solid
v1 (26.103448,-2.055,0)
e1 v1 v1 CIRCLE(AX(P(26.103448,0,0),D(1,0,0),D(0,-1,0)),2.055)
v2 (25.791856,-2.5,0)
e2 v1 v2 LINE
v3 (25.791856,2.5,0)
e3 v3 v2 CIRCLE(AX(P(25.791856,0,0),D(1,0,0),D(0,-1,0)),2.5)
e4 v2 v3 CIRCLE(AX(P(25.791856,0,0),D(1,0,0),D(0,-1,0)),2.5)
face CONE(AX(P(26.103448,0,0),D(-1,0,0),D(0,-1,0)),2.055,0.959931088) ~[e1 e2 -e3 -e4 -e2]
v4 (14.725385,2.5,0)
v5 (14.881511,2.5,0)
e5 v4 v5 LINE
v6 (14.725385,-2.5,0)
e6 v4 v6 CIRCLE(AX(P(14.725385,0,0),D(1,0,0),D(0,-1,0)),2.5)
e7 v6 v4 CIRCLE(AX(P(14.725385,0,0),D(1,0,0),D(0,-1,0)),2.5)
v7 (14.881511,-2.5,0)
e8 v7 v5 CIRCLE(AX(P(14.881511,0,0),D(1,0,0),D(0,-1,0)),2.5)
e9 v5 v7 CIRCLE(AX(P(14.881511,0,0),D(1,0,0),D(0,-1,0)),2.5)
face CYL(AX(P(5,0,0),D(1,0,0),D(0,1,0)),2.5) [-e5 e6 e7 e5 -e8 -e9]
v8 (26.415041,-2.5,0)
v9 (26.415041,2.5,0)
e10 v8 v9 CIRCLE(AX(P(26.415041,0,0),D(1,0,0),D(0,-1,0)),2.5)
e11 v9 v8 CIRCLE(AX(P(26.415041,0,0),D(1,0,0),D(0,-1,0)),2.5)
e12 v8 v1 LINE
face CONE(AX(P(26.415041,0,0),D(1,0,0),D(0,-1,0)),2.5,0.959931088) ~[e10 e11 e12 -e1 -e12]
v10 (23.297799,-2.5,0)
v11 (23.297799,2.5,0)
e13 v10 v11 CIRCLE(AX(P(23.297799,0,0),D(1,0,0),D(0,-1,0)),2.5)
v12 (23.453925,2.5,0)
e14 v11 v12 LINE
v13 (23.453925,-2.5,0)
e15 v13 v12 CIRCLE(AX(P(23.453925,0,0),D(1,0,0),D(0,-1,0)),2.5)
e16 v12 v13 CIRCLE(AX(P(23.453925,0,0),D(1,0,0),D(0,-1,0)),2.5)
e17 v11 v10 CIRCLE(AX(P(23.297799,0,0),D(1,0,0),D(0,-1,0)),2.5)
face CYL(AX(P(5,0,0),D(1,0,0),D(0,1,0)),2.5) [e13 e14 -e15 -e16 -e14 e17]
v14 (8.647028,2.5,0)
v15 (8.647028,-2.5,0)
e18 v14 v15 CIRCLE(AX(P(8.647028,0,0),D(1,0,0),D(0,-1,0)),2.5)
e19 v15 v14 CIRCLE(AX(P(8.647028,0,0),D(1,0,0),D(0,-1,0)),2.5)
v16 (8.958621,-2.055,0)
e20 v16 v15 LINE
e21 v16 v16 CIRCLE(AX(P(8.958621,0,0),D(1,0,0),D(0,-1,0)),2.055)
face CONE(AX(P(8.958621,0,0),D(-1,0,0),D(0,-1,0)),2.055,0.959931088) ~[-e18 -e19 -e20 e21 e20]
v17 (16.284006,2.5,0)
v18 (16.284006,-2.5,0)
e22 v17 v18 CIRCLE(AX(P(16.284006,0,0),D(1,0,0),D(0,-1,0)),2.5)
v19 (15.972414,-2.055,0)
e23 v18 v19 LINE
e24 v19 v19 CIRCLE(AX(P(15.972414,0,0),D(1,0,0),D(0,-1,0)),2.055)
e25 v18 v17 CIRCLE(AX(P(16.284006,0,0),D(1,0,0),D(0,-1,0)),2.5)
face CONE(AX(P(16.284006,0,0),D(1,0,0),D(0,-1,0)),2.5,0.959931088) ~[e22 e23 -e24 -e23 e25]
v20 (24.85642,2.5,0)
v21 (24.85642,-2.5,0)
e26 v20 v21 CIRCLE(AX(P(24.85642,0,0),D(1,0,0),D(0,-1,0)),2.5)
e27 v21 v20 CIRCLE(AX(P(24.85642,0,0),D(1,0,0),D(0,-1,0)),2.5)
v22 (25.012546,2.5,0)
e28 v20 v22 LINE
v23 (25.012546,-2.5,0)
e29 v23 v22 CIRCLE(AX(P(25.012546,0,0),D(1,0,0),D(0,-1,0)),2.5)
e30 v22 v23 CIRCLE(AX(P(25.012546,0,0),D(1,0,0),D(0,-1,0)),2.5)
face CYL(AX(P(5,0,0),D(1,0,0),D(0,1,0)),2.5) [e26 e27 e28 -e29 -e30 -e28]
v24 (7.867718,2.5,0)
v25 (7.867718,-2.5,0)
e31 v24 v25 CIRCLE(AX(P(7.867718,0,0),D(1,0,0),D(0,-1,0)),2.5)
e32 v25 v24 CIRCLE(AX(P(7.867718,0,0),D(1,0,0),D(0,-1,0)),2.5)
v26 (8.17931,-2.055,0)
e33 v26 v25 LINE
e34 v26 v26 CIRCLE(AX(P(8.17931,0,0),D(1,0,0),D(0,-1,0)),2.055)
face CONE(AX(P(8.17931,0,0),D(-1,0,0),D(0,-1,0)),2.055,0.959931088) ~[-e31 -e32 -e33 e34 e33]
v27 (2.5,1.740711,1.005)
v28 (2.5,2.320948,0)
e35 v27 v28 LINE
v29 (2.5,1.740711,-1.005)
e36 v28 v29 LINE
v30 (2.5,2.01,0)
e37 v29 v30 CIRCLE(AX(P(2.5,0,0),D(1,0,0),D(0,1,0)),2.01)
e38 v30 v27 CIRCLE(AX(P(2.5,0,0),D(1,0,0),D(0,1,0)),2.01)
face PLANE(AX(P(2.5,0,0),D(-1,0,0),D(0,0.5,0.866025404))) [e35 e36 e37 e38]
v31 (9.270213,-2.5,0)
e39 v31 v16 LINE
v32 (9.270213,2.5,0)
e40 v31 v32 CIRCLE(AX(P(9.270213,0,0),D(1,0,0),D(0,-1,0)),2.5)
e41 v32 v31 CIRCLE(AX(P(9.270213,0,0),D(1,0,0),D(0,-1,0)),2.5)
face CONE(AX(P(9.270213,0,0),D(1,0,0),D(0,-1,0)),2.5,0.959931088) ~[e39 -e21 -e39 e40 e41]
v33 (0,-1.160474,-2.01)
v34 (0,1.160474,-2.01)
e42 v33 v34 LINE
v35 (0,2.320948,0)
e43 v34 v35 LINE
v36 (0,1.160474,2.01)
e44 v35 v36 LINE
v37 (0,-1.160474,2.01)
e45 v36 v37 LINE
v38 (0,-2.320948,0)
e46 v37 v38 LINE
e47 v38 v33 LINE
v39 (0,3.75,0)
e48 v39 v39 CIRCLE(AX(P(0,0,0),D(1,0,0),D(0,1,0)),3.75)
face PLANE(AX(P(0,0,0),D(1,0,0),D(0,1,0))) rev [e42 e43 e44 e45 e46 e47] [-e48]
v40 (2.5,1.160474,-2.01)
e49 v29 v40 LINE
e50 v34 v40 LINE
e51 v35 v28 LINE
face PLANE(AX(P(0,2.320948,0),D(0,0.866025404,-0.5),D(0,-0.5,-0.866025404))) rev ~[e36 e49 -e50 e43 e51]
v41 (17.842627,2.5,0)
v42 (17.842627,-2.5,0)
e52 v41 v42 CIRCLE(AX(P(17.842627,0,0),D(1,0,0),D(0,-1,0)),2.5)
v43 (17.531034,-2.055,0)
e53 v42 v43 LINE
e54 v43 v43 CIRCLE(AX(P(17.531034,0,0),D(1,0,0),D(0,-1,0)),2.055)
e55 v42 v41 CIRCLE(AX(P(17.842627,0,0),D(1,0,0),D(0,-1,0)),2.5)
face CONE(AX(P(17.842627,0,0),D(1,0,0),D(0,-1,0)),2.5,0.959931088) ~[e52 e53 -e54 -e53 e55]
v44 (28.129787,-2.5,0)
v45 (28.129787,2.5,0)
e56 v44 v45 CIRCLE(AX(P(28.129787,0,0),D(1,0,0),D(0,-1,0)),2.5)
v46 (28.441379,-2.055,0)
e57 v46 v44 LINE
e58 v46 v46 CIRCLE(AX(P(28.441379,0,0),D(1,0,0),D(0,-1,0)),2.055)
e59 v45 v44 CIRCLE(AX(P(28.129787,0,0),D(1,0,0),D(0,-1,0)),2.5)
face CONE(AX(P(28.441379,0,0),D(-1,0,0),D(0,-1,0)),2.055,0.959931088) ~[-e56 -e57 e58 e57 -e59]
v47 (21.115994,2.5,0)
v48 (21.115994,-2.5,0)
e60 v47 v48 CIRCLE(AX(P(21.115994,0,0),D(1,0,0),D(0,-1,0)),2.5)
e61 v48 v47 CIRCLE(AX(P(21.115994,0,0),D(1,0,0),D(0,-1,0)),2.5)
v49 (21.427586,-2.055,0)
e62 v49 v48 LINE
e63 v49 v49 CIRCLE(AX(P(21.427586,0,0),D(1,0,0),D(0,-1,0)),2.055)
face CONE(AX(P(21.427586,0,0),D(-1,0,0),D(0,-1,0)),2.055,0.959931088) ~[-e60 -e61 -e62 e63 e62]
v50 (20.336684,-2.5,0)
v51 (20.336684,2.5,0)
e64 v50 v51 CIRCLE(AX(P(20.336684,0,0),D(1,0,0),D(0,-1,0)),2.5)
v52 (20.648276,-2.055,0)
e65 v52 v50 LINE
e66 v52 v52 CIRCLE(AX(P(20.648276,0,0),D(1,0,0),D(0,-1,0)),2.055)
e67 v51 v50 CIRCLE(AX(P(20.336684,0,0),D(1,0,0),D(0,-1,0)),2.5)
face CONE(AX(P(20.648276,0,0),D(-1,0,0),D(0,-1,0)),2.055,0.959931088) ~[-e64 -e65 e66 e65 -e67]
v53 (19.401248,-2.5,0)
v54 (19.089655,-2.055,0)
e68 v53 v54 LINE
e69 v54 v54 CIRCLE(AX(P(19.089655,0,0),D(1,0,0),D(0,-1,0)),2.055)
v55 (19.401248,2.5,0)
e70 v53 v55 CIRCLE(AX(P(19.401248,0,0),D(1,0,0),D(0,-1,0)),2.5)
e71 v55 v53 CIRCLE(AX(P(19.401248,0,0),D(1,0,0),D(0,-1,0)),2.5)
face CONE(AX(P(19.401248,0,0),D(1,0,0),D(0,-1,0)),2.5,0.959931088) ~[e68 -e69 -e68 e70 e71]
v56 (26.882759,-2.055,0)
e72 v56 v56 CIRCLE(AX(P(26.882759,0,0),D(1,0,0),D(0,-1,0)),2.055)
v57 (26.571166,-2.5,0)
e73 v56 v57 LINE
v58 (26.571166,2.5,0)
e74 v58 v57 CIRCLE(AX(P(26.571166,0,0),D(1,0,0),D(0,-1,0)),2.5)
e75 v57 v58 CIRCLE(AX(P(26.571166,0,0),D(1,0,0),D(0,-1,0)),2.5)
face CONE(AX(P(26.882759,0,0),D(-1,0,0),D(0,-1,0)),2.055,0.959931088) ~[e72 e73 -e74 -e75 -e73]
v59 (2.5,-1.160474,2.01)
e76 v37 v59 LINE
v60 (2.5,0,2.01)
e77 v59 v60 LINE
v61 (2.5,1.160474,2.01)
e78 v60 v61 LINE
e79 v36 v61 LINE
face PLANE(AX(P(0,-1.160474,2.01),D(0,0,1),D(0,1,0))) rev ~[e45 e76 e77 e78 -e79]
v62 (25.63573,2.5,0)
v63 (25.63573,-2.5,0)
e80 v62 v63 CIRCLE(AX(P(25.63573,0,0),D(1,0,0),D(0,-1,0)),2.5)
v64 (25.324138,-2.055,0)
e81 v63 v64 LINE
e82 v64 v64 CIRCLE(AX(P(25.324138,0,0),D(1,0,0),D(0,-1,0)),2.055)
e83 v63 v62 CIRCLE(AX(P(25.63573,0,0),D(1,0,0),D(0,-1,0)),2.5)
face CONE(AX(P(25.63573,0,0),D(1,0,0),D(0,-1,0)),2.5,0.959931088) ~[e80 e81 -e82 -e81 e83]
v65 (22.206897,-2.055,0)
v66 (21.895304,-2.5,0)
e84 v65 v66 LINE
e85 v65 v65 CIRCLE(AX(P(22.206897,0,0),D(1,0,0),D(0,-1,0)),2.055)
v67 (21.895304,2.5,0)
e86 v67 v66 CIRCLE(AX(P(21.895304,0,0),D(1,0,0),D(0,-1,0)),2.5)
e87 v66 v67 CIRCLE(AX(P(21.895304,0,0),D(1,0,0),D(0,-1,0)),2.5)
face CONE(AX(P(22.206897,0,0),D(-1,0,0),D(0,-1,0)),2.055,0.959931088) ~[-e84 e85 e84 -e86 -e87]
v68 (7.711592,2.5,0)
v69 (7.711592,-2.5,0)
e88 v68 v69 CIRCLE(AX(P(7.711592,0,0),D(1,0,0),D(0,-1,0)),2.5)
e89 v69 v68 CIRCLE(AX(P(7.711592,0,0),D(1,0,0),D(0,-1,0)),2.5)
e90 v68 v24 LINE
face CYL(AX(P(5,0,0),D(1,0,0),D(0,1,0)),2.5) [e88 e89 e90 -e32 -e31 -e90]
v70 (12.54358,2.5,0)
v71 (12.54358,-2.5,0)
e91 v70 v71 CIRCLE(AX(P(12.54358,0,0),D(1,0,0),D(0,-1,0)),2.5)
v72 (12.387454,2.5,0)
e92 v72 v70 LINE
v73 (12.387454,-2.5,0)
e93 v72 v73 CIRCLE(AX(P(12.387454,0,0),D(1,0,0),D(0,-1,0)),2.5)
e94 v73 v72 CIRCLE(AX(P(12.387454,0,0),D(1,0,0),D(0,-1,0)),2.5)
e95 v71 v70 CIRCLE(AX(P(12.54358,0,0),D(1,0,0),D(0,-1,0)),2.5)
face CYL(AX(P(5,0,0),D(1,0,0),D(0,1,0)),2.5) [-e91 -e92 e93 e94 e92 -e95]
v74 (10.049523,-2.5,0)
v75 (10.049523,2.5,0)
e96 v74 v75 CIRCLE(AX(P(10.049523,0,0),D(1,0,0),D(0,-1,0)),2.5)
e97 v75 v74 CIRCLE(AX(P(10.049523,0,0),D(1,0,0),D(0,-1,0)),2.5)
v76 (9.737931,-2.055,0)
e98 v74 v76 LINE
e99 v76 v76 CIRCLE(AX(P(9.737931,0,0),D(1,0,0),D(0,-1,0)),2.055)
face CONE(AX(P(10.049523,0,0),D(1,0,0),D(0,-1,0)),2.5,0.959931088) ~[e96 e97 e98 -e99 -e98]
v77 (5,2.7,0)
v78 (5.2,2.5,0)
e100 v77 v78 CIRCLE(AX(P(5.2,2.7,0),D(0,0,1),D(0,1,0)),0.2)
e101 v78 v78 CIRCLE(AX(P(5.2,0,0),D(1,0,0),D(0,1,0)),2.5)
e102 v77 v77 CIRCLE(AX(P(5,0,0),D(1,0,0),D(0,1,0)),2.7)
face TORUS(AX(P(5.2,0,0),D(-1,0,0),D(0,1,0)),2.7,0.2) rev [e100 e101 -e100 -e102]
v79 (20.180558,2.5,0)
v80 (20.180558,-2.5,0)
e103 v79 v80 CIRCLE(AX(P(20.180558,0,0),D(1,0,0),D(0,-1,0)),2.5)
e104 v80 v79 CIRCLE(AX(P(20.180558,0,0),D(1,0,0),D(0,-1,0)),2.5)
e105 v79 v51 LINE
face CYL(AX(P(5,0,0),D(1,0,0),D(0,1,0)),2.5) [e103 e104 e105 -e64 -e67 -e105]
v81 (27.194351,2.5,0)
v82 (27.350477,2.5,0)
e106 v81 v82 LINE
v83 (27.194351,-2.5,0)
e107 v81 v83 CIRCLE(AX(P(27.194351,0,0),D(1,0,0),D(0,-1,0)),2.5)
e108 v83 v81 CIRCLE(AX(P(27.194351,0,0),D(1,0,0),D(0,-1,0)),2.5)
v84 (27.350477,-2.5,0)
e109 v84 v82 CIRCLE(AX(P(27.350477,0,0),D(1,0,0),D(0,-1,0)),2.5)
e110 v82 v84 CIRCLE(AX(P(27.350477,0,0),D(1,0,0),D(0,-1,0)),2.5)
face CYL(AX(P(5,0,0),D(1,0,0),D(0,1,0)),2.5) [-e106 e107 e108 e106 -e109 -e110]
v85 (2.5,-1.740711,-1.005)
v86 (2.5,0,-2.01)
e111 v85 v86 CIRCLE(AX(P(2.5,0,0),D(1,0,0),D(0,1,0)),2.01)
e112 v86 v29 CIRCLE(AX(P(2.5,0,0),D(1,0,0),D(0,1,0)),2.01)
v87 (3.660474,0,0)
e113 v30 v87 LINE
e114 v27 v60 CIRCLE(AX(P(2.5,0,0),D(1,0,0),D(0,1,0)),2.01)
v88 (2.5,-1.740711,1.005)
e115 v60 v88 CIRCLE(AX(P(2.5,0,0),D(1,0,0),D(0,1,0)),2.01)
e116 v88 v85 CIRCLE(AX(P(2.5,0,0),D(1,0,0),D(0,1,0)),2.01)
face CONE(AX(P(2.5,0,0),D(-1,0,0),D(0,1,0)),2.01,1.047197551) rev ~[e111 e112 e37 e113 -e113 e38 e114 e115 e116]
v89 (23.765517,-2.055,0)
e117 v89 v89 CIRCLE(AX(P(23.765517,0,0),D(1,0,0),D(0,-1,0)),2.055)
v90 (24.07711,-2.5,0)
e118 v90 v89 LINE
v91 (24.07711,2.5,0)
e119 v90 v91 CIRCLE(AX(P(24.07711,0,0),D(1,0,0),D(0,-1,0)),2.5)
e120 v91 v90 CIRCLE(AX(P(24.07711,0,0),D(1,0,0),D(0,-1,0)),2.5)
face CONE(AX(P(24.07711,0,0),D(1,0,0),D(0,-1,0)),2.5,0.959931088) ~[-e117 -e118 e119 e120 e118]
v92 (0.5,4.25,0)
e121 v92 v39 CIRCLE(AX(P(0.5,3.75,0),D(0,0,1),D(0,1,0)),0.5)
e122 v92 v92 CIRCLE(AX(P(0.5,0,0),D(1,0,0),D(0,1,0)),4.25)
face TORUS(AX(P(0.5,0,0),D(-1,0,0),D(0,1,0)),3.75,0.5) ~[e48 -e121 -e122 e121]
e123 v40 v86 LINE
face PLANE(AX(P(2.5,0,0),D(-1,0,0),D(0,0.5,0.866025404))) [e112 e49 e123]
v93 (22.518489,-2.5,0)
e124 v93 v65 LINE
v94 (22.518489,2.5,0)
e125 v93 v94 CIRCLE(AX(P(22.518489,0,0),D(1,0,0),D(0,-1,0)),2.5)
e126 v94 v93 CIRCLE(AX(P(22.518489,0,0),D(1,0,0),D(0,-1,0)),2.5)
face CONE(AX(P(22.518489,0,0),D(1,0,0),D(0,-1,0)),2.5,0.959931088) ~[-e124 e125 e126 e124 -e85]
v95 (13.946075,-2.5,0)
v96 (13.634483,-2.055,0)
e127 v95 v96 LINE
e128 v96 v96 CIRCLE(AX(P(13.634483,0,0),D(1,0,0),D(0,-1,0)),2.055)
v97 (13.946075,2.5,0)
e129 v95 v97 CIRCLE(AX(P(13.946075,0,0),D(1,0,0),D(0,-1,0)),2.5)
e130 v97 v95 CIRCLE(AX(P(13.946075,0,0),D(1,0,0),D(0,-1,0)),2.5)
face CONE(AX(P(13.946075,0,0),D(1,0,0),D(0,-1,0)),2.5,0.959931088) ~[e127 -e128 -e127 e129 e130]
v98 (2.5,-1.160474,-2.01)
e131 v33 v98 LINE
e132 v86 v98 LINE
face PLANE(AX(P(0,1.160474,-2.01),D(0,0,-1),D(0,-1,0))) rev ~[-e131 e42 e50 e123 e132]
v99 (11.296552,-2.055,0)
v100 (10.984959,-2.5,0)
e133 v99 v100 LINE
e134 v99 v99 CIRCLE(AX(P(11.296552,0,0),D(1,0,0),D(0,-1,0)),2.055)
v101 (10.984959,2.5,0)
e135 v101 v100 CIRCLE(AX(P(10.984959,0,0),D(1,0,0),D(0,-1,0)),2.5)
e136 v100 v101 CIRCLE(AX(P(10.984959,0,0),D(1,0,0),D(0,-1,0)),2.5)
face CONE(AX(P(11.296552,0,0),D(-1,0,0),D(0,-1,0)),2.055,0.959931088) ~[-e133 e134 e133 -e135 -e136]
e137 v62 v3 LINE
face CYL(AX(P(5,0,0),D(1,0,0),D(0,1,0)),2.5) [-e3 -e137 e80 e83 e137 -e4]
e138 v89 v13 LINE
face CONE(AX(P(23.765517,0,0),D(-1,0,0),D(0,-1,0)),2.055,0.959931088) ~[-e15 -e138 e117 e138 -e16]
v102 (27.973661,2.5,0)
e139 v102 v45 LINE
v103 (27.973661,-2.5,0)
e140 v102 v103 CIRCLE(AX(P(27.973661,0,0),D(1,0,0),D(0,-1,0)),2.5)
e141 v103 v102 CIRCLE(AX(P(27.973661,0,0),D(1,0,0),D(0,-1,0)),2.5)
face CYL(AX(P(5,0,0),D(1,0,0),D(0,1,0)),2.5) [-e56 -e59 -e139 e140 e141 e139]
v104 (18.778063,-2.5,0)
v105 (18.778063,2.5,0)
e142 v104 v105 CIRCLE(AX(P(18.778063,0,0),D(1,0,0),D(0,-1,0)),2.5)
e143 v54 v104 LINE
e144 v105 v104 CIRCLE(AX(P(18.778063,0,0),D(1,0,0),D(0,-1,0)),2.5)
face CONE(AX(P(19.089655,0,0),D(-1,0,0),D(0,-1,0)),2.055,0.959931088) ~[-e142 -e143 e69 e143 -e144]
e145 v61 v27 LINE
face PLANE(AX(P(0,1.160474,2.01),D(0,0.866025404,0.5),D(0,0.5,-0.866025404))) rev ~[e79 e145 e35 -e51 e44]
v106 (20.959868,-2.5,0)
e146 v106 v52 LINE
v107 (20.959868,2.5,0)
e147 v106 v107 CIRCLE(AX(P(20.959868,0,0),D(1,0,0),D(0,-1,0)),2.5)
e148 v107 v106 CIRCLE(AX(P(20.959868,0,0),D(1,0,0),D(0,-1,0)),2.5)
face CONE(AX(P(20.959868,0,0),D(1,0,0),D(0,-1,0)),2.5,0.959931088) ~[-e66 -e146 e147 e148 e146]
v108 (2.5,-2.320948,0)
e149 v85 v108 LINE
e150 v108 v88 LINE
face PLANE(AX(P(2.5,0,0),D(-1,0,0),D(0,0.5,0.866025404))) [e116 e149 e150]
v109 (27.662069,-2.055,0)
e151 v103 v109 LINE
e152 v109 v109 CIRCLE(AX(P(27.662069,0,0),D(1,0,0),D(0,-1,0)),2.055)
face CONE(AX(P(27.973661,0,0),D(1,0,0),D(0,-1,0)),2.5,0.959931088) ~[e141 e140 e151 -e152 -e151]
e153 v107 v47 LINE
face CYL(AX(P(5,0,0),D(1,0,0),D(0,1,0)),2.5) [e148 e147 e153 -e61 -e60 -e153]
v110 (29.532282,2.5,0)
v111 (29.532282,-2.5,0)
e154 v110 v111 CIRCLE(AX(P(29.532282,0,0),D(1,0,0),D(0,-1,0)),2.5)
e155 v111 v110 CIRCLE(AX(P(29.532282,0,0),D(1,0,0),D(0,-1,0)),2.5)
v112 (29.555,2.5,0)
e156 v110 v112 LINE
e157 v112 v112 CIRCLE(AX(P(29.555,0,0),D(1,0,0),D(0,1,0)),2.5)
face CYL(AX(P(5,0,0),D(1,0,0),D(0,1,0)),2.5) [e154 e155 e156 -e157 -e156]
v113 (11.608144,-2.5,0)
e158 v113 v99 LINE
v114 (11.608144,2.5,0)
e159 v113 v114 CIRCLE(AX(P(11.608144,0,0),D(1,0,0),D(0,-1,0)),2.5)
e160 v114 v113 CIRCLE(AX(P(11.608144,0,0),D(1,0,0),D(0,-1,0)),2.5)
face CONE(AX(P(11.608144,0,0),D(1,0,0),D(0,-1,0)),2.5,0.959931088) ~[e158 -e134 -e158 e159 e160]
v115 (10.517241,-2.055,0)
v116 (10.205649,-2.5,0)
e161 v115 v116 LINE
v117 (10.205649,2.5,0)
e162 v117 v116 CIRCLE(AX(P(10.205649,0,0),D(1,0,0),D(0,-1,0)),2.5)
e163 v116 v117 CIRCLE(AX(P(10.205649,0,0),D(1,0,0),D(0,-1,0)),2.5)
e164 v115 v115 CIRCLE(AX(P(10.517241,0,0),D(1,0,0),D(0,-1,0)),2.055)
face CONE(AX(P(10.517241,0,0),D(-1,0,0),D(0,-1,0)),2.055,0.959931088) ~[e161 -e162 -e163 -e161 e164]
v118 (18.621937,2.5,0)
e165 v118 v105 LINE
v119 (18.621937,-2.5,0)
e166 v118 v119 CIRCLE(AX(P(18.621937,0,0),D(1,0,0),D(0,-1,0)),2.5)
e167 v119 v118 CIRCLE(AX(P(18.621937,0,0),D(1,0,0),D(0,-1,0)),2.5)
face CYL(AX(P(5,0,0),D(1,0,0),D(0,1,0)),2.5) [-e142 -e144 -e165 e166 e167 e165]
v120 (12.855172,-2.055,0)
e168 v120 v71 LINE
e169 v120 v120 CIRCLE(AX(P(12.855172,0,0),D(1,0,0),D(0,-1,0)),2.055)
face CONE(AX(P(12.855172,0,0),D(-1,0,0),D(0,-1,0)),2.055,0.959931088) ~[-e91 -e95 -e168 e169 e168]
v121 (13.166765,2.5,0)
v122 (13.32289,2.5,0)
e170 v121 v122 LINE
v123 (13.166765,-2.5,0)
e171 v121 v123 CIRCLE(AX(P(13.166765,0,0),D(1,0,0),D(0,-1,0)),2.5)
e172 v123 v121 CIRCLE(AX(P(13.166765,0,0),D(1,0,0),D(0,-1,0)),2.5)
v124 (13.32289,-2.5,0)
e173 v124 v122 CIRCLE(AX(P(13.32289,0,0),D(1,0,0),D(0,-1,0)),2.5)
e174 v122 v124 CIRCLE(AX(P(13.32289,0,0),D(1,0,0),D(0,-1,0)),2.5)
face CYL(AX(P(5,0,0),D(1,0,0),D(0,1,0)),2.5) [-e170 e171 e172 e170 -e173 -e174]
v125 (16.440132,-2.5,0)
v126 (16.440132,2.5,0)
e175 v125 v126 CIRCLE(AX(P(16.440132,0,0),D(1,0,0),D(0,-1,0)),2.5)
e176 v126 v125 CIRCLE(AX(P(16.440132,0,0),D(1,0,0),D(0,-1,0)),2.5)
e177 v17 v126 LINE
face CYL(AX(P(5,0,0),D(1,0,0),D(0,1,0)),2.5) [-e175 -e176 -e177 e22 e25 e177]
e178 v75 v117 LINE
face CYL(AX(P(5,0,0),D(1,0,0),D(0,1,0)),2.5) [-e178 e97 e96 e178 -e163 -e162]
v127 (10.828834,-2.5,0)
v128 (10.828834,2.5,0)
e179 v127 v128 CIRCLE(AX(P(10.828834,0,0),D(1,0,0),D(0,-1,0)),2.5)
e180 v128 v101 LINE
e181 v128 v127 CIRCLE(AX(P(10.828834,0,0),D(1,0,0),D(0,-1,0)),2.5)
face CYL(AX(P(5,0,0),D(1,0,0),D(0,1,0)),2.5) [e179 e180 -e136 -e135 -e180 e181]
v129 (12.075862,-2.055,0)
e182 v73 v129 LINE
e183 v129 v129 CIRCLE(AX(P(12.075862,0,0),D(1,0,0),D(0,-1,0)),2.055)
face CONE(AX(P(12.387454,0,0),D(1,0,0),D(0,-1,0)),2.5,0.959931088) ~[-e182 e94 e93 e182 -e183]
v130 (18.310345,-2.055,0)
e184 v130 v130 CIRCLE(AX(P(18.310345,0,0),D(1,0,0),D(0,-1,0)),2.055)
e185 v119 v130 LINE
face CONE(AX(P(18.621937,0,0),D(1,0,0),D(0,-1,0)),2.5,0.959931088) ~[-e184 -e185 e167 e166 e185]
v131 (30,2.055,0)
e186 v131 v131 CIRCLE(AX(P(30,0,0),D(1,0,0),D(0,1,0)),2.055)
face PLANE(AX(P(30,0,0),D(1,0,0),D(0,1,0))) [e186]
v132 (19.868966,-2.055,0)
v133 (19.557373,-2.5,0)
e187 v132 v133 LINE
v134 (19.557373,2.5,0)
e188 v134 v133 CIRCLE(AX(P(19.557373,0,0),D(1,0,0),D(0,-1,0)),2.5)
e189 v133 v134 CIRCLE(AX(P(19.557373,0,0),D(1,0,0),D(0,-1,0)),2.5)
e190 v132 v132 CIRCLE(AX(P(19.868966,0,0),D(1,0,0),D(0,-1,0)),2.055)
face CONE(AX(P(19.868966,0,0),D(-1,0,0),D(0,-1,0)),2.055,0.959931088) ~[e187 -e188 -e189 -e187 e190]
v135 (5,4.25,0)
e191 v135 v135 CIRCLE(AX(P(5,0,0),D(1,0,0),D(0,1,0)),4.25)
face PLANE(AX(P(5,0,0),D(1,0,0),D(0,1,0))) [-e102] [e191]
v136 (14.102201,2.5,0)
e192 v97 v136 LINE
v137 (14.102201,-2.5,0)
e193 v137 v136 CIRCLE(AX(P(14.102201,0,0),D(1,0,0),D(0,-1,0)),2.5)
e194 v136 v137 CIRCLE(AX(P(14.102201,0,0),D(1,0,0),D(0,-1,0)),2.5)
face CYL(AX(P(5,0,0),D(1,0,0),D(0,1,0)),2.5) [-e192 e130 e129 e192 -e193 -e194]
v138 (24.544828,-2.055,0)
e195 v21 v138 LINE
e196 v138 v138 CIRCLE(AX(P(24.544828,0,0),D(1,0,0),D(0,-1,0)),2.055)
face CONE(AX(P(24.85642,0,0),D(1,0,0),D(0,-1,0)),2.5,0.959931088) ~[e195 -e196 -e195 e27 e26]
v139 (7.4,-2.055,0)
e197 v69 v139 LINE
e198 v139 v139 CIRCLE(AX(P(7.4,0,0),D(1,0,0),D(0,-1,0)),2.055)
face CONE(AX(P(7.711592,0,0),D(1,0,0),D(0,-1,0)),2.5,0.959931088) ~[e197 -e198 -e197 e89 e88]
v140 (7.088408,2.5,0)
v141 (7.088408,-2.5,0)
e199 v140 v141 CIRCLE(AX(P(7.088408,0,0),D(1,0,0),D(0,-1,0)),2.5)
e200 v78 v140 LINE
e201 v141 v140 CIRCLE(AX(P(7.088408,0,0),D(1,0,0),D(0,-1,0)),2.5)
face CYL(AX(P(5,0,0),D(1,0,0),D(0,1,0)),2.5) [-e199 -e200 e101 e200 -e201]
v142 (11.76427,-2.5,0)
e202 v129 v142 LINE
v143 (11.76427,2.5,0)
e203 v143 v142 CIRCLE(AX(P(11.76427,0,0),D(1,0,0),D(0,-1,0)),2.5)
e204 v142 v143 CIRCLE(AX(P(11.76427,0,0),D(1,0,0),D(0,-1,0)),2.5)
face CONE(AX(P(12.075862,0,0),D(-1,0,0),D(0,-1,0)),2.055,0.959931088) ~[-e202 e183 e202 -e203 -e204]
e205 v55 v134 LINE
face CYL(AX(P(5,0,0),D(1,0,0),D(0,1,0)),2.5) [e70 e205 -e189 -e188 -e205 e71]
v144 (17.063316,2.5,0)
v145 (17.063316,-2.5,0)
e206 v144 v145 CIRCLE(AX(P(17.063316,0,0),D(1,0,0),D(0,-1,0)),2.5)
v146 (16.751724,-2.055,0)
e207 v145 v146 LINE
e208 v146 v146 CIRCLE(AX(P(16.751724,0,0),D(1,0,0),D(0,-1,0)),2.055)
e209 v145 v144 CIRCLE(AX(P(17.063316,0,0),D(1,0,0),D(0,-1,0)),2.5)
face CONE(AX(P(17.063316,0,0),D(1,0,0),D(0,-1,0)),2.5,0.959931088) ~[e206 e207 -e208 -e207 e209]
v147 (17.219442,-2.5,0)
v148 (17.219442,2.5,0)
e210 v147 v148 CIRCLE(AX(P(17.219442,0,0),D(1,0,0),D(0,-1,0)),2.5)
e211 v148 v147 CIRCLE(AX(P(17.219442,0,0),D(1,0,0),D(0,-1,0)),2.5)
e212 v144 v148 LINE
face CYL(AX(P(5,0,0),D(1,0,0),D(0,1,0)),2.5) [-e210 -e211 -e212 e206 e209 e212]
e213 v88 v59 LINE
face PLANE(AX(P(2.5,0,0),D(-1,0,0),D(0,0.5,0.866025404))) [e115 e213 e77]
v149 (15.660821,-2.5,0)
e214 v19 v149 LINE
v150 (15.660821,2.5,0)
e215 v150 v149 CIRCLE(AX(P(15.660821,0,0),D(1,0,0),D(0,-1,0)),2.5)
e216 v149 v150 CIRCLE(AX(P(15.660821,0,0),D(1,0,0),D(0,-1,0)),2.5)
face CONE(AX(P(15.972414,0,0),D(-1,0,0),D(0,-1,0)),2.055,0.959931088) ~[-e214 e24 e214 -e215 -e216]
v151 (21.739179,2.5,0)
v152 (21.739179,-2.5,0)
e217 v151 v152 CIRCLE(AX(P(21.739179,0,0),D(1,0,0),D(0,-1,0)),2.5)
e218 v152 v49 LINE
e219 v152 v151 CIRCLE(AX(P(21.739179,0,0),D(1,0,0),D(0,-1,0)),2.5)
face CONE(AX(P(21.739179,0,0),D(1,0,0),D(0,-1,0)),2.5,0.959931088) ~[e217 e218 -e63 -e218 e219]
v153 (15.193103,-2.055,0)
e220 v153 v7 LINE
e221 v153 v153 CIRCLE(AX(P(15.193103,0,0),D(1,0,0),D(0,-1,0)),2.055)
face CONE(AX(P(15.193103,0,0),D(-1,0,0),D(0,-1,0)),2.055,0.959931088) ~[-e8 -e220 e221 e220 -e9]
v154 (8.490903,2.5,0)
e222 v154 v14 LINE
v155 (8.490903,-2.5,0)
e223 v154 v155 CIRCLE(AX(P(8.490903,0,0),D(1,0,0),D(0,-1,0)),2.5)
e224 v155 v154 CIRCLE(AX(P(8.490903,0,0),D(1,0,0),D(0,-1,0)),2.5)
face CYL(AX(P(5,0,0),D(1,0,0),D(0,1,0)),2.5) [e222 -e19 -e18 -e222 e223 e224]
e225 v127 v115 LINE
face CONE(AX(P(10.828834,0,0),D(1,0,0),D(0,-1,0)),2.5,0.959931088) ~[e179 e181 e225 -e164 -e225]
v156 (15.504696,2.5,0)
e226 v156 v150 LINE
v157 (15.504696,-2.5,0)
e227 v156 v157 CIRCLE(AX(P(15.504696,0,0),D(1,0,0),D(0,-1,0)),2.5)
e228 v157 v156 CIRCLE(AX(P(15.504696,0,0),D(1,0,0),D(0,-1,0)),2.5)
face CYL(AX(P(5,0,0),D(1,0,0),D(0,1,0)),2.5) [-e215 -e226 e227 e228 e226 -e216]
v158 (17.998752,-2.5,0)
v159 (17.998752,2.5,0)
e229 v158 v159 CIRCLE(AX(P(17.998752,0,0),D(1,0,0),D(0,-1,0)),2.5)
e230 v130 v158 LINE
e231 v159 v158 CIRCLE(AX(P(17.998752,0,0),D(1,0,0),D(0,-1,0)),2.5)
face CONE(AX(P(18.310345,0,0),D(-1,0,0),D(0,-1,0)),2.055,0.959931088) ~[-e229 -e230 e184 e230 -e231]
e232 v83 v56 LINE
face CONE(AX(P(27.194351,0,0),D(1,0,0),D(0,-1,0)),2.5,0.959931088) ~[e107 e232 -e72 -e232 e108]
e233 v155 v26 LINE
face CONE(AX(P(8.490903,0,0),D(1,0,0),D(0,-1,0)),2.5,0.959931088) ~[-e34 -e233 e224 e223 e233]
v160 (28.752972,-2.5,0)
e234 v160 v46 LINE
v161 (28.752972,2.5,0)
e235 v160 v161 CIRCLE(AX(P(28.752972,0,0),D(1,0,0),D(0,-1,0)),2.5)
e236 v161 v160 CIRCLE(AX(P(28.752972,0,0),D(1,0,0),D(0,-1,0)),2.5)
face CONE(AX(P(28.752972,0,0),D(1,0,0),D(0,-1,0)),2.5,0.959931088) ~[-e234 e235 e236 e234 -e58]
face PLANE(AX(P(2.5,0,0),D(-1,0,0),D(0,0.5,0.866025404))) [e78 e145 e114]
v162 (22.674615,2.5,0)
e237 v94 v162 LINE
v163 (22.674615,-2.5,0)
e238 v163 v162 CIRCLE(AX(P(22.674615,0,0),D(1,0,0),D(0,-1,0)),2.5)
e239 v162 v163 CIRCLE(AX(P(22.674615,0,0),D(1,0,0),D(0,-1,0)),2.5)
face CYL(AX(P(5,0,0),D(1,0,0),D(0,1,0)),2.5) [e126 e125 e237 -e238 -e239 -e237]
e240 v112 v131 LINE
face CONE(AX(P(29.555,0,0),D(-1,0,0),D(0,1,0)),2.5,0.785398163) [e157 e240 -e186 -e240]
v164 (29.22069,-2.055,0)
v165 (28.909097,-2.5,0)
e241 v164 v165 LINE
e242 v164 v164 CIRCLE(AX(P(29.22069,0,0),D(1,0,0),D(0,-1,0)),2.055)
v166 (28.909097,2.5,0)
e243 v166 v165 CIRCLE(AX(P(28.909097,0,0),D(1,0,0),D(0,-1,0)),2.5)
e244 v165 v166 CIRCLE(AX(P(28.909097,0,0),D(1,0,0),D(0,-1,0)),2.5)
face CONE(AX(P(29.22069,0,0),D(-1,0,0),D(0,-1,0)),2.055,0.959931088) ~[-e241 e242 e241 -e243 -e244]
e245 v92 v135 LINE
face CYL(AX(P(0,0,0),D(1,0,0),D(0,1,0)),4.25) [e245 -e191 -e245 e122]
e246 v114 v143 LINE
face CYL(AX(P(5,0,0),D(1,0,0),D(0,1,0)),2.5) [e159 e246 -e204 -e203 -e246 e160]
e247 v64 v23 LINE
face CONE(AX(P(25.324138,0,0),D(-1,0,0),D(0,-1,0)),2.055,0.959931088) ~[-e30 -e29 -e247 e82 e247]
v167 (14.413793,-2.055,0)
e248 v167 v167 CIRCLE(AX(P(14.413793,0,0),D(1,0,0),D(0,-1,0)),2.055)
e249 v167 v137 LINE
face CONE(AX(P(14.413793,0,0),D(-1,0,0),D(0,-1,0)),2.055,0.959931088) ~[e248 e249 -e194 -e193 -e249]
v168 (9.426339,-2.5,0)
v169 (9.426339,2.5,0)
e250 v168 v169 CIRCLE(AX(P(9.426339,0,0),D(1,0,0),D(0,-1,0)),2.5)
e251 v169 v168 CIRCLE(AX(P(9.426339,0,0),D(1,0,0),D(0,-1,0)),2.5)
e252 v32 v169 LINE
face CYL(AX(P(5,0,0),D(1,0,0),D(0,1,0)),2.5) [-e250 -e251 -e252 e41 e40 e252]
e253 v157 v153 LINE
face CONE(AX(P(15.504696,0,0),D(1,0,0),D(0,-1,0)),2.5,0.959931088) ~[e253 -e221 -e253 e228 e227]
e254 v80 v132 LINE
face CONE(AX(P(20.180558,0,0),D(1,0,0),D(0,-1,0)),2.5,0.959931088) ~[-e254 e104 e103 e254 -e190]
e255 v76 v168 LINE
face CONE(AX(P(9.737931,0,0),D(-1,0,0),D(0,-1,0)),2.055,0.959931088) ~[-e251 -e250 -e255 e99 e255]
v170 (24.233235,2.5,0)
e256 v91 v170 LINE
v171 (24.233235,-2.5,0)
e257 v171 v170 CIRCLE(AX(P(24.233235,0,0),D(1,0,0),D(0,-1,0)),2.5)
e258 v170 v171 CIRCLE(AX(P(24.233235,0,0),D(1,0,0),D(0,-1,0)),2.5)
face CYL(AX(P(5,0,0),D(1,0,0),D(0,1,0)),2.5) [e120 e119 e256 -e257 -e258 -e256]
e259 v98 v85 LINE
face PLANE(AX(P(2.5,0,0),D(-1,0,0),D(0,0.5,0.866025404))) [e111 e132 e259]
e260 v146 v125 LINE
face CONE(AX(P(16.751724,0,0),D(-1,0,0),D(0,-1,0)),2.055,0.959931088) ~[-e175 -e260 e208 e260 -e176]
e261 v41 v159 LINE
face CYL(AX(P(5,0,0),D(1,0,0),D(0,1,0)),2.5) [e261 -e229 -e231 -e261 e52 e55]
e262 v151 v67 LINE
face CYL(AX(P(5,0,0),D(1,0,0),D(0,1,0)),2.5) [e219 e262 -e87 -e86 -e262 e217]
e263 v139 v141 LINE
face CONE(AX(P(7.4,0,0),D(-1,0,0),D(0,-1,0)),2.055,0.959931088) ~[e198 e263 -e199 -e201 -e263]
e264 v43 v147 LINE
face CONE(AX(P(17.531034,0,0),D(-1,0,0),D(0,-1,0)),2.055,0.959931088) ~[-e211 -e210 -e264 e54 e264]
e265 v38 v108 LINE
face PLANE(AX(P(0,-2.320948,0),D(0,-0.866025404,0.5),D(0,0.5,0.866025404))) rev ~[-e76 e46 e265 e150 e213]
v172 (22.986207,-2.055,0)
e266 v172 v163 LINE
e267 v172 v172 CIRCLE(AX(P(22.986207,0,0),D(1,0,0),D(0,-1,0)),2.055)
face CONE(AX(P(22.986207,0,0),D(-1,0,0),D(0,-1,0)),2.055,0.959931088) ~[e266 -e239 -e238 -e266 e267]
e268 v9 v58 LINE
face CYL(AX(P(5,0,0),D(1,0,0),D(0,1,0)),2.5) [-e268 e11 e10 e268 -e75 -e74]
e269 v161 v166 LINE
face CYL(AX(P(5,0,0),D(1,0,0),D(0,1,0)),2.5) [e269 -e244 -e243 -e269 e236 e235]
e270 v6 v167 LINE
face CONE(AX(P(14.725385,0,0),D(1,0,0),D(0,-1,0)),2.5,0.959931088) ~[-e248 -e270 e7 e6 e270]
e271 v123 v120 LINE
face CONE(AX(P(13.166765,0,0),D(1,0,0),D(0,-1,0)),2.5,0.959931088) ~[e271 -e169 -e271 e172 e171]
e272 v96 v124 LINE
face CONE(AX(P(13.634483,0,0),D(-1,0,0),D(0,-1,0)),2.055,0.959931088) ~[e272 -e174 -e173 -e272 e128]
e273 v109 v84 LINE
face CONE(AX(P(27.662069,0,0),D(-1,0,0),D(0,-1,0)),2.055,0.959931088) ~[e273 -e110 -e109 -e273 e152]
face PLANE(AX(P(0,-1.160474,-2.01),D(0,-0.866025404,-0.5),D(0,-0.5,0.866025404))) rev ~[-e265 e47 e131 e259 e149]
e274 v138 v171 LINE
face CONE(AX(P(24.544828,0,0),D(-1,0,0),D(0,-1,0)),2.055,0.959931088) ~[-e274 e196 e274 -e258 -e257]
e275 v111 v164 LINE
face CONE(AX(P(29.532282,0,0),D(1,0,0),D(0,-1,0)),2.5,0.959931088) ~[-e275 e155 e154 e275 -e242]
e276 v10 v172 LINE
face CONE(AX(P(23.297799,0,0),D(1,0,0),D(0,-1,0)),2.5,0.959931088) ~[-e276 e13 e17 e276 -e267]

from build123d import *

# Parameters (mm, degrees)
FILLET1_R       = 0.2
FILLET2_R       = 0.5
HEX_2_DEPTH     = 2.5
THDSCHPAT_COUNT = 29
THDSCHPAT_PITCH = 0.779310345


with BuildPart() as part:
    # BodySke → Base-Revolve (revolve)
    with BuildSketch(Plane.XY):
        Polygon((0, 0), (0, 4.25), (5, 4.25), (5, 2.5), (29.555, 2.5), (30, 2.055), (30, 0), align=None)
    revolve(axis=Axis((-31.75, 0, 0), (1, 0, 0)))

    # Fillet1
    fillet1_edges = [part.edges().sort_by_distance(p)[0] for p in [
        (5, -2.5, 0),
    ]]
    fillet(fillet1_edges, radius=FILLET1_R)

    # Fillet2
    fillet2_edges = [part.edges().sort_by_distance(p)[0] for p in [
        (0, -4.25, 0),
    ]]
    fillet(fillet2_edges, radius=FILLET2_R)

    # Sketch2 → Hex-PreBroach (revolve, cut)
    with BuildSketch(Plane.XY):
        Polygon((0, 2.01), (2.5, 2.01), (3.660474041, 0), (0, 0), align=None)
    revolve(axis=Axis((0, 0, 0), (1, 0, 0)), mode=Mode.SUBTRACT)

    # Sketch3 → Hex 2 (cut)
    with BuildSketch(Plane(origin=(0, 0, 0), x_dir=(0, 0.5, 0.866025404), z_dir=(-1, 0, 0))):
        Polygon((1.160474041, 2.01), (-1.160474041, 2.01), (-2.320948082, 0), (-1.160474041, -2.01), (1.160474041, -2.01), (2.320948082, 0), align=None)
    extrude(amount=-HEX_2_DEPTH, mode=Mode.SUBTRACT)

    # ThdSchSke → ThreadSchematic (revolve, cut)
    with BuildSketch(Plane.XY):
        Polygon((7.4, -2.055), (7.088407645, -2.5), (7.088407645, -3.125), (7.711592355, -3.125), (7.711592355, -2.5), align=None)
    threadschematic = revolve(axis=Axis((-3.175, 0, 0), (1, 0, 0)), mode=Mode.SUBTRACT)

    # ThdSchPat: ThreadSchematic ×29
    with Locations(*[(i * THDSCHPAT_PITCH, 0, 0) for i in range(1, THDSCHPAT_COUNT)]):
        add(threadschematic, mode=Mode.SUBTRACT)


solid = part.part
